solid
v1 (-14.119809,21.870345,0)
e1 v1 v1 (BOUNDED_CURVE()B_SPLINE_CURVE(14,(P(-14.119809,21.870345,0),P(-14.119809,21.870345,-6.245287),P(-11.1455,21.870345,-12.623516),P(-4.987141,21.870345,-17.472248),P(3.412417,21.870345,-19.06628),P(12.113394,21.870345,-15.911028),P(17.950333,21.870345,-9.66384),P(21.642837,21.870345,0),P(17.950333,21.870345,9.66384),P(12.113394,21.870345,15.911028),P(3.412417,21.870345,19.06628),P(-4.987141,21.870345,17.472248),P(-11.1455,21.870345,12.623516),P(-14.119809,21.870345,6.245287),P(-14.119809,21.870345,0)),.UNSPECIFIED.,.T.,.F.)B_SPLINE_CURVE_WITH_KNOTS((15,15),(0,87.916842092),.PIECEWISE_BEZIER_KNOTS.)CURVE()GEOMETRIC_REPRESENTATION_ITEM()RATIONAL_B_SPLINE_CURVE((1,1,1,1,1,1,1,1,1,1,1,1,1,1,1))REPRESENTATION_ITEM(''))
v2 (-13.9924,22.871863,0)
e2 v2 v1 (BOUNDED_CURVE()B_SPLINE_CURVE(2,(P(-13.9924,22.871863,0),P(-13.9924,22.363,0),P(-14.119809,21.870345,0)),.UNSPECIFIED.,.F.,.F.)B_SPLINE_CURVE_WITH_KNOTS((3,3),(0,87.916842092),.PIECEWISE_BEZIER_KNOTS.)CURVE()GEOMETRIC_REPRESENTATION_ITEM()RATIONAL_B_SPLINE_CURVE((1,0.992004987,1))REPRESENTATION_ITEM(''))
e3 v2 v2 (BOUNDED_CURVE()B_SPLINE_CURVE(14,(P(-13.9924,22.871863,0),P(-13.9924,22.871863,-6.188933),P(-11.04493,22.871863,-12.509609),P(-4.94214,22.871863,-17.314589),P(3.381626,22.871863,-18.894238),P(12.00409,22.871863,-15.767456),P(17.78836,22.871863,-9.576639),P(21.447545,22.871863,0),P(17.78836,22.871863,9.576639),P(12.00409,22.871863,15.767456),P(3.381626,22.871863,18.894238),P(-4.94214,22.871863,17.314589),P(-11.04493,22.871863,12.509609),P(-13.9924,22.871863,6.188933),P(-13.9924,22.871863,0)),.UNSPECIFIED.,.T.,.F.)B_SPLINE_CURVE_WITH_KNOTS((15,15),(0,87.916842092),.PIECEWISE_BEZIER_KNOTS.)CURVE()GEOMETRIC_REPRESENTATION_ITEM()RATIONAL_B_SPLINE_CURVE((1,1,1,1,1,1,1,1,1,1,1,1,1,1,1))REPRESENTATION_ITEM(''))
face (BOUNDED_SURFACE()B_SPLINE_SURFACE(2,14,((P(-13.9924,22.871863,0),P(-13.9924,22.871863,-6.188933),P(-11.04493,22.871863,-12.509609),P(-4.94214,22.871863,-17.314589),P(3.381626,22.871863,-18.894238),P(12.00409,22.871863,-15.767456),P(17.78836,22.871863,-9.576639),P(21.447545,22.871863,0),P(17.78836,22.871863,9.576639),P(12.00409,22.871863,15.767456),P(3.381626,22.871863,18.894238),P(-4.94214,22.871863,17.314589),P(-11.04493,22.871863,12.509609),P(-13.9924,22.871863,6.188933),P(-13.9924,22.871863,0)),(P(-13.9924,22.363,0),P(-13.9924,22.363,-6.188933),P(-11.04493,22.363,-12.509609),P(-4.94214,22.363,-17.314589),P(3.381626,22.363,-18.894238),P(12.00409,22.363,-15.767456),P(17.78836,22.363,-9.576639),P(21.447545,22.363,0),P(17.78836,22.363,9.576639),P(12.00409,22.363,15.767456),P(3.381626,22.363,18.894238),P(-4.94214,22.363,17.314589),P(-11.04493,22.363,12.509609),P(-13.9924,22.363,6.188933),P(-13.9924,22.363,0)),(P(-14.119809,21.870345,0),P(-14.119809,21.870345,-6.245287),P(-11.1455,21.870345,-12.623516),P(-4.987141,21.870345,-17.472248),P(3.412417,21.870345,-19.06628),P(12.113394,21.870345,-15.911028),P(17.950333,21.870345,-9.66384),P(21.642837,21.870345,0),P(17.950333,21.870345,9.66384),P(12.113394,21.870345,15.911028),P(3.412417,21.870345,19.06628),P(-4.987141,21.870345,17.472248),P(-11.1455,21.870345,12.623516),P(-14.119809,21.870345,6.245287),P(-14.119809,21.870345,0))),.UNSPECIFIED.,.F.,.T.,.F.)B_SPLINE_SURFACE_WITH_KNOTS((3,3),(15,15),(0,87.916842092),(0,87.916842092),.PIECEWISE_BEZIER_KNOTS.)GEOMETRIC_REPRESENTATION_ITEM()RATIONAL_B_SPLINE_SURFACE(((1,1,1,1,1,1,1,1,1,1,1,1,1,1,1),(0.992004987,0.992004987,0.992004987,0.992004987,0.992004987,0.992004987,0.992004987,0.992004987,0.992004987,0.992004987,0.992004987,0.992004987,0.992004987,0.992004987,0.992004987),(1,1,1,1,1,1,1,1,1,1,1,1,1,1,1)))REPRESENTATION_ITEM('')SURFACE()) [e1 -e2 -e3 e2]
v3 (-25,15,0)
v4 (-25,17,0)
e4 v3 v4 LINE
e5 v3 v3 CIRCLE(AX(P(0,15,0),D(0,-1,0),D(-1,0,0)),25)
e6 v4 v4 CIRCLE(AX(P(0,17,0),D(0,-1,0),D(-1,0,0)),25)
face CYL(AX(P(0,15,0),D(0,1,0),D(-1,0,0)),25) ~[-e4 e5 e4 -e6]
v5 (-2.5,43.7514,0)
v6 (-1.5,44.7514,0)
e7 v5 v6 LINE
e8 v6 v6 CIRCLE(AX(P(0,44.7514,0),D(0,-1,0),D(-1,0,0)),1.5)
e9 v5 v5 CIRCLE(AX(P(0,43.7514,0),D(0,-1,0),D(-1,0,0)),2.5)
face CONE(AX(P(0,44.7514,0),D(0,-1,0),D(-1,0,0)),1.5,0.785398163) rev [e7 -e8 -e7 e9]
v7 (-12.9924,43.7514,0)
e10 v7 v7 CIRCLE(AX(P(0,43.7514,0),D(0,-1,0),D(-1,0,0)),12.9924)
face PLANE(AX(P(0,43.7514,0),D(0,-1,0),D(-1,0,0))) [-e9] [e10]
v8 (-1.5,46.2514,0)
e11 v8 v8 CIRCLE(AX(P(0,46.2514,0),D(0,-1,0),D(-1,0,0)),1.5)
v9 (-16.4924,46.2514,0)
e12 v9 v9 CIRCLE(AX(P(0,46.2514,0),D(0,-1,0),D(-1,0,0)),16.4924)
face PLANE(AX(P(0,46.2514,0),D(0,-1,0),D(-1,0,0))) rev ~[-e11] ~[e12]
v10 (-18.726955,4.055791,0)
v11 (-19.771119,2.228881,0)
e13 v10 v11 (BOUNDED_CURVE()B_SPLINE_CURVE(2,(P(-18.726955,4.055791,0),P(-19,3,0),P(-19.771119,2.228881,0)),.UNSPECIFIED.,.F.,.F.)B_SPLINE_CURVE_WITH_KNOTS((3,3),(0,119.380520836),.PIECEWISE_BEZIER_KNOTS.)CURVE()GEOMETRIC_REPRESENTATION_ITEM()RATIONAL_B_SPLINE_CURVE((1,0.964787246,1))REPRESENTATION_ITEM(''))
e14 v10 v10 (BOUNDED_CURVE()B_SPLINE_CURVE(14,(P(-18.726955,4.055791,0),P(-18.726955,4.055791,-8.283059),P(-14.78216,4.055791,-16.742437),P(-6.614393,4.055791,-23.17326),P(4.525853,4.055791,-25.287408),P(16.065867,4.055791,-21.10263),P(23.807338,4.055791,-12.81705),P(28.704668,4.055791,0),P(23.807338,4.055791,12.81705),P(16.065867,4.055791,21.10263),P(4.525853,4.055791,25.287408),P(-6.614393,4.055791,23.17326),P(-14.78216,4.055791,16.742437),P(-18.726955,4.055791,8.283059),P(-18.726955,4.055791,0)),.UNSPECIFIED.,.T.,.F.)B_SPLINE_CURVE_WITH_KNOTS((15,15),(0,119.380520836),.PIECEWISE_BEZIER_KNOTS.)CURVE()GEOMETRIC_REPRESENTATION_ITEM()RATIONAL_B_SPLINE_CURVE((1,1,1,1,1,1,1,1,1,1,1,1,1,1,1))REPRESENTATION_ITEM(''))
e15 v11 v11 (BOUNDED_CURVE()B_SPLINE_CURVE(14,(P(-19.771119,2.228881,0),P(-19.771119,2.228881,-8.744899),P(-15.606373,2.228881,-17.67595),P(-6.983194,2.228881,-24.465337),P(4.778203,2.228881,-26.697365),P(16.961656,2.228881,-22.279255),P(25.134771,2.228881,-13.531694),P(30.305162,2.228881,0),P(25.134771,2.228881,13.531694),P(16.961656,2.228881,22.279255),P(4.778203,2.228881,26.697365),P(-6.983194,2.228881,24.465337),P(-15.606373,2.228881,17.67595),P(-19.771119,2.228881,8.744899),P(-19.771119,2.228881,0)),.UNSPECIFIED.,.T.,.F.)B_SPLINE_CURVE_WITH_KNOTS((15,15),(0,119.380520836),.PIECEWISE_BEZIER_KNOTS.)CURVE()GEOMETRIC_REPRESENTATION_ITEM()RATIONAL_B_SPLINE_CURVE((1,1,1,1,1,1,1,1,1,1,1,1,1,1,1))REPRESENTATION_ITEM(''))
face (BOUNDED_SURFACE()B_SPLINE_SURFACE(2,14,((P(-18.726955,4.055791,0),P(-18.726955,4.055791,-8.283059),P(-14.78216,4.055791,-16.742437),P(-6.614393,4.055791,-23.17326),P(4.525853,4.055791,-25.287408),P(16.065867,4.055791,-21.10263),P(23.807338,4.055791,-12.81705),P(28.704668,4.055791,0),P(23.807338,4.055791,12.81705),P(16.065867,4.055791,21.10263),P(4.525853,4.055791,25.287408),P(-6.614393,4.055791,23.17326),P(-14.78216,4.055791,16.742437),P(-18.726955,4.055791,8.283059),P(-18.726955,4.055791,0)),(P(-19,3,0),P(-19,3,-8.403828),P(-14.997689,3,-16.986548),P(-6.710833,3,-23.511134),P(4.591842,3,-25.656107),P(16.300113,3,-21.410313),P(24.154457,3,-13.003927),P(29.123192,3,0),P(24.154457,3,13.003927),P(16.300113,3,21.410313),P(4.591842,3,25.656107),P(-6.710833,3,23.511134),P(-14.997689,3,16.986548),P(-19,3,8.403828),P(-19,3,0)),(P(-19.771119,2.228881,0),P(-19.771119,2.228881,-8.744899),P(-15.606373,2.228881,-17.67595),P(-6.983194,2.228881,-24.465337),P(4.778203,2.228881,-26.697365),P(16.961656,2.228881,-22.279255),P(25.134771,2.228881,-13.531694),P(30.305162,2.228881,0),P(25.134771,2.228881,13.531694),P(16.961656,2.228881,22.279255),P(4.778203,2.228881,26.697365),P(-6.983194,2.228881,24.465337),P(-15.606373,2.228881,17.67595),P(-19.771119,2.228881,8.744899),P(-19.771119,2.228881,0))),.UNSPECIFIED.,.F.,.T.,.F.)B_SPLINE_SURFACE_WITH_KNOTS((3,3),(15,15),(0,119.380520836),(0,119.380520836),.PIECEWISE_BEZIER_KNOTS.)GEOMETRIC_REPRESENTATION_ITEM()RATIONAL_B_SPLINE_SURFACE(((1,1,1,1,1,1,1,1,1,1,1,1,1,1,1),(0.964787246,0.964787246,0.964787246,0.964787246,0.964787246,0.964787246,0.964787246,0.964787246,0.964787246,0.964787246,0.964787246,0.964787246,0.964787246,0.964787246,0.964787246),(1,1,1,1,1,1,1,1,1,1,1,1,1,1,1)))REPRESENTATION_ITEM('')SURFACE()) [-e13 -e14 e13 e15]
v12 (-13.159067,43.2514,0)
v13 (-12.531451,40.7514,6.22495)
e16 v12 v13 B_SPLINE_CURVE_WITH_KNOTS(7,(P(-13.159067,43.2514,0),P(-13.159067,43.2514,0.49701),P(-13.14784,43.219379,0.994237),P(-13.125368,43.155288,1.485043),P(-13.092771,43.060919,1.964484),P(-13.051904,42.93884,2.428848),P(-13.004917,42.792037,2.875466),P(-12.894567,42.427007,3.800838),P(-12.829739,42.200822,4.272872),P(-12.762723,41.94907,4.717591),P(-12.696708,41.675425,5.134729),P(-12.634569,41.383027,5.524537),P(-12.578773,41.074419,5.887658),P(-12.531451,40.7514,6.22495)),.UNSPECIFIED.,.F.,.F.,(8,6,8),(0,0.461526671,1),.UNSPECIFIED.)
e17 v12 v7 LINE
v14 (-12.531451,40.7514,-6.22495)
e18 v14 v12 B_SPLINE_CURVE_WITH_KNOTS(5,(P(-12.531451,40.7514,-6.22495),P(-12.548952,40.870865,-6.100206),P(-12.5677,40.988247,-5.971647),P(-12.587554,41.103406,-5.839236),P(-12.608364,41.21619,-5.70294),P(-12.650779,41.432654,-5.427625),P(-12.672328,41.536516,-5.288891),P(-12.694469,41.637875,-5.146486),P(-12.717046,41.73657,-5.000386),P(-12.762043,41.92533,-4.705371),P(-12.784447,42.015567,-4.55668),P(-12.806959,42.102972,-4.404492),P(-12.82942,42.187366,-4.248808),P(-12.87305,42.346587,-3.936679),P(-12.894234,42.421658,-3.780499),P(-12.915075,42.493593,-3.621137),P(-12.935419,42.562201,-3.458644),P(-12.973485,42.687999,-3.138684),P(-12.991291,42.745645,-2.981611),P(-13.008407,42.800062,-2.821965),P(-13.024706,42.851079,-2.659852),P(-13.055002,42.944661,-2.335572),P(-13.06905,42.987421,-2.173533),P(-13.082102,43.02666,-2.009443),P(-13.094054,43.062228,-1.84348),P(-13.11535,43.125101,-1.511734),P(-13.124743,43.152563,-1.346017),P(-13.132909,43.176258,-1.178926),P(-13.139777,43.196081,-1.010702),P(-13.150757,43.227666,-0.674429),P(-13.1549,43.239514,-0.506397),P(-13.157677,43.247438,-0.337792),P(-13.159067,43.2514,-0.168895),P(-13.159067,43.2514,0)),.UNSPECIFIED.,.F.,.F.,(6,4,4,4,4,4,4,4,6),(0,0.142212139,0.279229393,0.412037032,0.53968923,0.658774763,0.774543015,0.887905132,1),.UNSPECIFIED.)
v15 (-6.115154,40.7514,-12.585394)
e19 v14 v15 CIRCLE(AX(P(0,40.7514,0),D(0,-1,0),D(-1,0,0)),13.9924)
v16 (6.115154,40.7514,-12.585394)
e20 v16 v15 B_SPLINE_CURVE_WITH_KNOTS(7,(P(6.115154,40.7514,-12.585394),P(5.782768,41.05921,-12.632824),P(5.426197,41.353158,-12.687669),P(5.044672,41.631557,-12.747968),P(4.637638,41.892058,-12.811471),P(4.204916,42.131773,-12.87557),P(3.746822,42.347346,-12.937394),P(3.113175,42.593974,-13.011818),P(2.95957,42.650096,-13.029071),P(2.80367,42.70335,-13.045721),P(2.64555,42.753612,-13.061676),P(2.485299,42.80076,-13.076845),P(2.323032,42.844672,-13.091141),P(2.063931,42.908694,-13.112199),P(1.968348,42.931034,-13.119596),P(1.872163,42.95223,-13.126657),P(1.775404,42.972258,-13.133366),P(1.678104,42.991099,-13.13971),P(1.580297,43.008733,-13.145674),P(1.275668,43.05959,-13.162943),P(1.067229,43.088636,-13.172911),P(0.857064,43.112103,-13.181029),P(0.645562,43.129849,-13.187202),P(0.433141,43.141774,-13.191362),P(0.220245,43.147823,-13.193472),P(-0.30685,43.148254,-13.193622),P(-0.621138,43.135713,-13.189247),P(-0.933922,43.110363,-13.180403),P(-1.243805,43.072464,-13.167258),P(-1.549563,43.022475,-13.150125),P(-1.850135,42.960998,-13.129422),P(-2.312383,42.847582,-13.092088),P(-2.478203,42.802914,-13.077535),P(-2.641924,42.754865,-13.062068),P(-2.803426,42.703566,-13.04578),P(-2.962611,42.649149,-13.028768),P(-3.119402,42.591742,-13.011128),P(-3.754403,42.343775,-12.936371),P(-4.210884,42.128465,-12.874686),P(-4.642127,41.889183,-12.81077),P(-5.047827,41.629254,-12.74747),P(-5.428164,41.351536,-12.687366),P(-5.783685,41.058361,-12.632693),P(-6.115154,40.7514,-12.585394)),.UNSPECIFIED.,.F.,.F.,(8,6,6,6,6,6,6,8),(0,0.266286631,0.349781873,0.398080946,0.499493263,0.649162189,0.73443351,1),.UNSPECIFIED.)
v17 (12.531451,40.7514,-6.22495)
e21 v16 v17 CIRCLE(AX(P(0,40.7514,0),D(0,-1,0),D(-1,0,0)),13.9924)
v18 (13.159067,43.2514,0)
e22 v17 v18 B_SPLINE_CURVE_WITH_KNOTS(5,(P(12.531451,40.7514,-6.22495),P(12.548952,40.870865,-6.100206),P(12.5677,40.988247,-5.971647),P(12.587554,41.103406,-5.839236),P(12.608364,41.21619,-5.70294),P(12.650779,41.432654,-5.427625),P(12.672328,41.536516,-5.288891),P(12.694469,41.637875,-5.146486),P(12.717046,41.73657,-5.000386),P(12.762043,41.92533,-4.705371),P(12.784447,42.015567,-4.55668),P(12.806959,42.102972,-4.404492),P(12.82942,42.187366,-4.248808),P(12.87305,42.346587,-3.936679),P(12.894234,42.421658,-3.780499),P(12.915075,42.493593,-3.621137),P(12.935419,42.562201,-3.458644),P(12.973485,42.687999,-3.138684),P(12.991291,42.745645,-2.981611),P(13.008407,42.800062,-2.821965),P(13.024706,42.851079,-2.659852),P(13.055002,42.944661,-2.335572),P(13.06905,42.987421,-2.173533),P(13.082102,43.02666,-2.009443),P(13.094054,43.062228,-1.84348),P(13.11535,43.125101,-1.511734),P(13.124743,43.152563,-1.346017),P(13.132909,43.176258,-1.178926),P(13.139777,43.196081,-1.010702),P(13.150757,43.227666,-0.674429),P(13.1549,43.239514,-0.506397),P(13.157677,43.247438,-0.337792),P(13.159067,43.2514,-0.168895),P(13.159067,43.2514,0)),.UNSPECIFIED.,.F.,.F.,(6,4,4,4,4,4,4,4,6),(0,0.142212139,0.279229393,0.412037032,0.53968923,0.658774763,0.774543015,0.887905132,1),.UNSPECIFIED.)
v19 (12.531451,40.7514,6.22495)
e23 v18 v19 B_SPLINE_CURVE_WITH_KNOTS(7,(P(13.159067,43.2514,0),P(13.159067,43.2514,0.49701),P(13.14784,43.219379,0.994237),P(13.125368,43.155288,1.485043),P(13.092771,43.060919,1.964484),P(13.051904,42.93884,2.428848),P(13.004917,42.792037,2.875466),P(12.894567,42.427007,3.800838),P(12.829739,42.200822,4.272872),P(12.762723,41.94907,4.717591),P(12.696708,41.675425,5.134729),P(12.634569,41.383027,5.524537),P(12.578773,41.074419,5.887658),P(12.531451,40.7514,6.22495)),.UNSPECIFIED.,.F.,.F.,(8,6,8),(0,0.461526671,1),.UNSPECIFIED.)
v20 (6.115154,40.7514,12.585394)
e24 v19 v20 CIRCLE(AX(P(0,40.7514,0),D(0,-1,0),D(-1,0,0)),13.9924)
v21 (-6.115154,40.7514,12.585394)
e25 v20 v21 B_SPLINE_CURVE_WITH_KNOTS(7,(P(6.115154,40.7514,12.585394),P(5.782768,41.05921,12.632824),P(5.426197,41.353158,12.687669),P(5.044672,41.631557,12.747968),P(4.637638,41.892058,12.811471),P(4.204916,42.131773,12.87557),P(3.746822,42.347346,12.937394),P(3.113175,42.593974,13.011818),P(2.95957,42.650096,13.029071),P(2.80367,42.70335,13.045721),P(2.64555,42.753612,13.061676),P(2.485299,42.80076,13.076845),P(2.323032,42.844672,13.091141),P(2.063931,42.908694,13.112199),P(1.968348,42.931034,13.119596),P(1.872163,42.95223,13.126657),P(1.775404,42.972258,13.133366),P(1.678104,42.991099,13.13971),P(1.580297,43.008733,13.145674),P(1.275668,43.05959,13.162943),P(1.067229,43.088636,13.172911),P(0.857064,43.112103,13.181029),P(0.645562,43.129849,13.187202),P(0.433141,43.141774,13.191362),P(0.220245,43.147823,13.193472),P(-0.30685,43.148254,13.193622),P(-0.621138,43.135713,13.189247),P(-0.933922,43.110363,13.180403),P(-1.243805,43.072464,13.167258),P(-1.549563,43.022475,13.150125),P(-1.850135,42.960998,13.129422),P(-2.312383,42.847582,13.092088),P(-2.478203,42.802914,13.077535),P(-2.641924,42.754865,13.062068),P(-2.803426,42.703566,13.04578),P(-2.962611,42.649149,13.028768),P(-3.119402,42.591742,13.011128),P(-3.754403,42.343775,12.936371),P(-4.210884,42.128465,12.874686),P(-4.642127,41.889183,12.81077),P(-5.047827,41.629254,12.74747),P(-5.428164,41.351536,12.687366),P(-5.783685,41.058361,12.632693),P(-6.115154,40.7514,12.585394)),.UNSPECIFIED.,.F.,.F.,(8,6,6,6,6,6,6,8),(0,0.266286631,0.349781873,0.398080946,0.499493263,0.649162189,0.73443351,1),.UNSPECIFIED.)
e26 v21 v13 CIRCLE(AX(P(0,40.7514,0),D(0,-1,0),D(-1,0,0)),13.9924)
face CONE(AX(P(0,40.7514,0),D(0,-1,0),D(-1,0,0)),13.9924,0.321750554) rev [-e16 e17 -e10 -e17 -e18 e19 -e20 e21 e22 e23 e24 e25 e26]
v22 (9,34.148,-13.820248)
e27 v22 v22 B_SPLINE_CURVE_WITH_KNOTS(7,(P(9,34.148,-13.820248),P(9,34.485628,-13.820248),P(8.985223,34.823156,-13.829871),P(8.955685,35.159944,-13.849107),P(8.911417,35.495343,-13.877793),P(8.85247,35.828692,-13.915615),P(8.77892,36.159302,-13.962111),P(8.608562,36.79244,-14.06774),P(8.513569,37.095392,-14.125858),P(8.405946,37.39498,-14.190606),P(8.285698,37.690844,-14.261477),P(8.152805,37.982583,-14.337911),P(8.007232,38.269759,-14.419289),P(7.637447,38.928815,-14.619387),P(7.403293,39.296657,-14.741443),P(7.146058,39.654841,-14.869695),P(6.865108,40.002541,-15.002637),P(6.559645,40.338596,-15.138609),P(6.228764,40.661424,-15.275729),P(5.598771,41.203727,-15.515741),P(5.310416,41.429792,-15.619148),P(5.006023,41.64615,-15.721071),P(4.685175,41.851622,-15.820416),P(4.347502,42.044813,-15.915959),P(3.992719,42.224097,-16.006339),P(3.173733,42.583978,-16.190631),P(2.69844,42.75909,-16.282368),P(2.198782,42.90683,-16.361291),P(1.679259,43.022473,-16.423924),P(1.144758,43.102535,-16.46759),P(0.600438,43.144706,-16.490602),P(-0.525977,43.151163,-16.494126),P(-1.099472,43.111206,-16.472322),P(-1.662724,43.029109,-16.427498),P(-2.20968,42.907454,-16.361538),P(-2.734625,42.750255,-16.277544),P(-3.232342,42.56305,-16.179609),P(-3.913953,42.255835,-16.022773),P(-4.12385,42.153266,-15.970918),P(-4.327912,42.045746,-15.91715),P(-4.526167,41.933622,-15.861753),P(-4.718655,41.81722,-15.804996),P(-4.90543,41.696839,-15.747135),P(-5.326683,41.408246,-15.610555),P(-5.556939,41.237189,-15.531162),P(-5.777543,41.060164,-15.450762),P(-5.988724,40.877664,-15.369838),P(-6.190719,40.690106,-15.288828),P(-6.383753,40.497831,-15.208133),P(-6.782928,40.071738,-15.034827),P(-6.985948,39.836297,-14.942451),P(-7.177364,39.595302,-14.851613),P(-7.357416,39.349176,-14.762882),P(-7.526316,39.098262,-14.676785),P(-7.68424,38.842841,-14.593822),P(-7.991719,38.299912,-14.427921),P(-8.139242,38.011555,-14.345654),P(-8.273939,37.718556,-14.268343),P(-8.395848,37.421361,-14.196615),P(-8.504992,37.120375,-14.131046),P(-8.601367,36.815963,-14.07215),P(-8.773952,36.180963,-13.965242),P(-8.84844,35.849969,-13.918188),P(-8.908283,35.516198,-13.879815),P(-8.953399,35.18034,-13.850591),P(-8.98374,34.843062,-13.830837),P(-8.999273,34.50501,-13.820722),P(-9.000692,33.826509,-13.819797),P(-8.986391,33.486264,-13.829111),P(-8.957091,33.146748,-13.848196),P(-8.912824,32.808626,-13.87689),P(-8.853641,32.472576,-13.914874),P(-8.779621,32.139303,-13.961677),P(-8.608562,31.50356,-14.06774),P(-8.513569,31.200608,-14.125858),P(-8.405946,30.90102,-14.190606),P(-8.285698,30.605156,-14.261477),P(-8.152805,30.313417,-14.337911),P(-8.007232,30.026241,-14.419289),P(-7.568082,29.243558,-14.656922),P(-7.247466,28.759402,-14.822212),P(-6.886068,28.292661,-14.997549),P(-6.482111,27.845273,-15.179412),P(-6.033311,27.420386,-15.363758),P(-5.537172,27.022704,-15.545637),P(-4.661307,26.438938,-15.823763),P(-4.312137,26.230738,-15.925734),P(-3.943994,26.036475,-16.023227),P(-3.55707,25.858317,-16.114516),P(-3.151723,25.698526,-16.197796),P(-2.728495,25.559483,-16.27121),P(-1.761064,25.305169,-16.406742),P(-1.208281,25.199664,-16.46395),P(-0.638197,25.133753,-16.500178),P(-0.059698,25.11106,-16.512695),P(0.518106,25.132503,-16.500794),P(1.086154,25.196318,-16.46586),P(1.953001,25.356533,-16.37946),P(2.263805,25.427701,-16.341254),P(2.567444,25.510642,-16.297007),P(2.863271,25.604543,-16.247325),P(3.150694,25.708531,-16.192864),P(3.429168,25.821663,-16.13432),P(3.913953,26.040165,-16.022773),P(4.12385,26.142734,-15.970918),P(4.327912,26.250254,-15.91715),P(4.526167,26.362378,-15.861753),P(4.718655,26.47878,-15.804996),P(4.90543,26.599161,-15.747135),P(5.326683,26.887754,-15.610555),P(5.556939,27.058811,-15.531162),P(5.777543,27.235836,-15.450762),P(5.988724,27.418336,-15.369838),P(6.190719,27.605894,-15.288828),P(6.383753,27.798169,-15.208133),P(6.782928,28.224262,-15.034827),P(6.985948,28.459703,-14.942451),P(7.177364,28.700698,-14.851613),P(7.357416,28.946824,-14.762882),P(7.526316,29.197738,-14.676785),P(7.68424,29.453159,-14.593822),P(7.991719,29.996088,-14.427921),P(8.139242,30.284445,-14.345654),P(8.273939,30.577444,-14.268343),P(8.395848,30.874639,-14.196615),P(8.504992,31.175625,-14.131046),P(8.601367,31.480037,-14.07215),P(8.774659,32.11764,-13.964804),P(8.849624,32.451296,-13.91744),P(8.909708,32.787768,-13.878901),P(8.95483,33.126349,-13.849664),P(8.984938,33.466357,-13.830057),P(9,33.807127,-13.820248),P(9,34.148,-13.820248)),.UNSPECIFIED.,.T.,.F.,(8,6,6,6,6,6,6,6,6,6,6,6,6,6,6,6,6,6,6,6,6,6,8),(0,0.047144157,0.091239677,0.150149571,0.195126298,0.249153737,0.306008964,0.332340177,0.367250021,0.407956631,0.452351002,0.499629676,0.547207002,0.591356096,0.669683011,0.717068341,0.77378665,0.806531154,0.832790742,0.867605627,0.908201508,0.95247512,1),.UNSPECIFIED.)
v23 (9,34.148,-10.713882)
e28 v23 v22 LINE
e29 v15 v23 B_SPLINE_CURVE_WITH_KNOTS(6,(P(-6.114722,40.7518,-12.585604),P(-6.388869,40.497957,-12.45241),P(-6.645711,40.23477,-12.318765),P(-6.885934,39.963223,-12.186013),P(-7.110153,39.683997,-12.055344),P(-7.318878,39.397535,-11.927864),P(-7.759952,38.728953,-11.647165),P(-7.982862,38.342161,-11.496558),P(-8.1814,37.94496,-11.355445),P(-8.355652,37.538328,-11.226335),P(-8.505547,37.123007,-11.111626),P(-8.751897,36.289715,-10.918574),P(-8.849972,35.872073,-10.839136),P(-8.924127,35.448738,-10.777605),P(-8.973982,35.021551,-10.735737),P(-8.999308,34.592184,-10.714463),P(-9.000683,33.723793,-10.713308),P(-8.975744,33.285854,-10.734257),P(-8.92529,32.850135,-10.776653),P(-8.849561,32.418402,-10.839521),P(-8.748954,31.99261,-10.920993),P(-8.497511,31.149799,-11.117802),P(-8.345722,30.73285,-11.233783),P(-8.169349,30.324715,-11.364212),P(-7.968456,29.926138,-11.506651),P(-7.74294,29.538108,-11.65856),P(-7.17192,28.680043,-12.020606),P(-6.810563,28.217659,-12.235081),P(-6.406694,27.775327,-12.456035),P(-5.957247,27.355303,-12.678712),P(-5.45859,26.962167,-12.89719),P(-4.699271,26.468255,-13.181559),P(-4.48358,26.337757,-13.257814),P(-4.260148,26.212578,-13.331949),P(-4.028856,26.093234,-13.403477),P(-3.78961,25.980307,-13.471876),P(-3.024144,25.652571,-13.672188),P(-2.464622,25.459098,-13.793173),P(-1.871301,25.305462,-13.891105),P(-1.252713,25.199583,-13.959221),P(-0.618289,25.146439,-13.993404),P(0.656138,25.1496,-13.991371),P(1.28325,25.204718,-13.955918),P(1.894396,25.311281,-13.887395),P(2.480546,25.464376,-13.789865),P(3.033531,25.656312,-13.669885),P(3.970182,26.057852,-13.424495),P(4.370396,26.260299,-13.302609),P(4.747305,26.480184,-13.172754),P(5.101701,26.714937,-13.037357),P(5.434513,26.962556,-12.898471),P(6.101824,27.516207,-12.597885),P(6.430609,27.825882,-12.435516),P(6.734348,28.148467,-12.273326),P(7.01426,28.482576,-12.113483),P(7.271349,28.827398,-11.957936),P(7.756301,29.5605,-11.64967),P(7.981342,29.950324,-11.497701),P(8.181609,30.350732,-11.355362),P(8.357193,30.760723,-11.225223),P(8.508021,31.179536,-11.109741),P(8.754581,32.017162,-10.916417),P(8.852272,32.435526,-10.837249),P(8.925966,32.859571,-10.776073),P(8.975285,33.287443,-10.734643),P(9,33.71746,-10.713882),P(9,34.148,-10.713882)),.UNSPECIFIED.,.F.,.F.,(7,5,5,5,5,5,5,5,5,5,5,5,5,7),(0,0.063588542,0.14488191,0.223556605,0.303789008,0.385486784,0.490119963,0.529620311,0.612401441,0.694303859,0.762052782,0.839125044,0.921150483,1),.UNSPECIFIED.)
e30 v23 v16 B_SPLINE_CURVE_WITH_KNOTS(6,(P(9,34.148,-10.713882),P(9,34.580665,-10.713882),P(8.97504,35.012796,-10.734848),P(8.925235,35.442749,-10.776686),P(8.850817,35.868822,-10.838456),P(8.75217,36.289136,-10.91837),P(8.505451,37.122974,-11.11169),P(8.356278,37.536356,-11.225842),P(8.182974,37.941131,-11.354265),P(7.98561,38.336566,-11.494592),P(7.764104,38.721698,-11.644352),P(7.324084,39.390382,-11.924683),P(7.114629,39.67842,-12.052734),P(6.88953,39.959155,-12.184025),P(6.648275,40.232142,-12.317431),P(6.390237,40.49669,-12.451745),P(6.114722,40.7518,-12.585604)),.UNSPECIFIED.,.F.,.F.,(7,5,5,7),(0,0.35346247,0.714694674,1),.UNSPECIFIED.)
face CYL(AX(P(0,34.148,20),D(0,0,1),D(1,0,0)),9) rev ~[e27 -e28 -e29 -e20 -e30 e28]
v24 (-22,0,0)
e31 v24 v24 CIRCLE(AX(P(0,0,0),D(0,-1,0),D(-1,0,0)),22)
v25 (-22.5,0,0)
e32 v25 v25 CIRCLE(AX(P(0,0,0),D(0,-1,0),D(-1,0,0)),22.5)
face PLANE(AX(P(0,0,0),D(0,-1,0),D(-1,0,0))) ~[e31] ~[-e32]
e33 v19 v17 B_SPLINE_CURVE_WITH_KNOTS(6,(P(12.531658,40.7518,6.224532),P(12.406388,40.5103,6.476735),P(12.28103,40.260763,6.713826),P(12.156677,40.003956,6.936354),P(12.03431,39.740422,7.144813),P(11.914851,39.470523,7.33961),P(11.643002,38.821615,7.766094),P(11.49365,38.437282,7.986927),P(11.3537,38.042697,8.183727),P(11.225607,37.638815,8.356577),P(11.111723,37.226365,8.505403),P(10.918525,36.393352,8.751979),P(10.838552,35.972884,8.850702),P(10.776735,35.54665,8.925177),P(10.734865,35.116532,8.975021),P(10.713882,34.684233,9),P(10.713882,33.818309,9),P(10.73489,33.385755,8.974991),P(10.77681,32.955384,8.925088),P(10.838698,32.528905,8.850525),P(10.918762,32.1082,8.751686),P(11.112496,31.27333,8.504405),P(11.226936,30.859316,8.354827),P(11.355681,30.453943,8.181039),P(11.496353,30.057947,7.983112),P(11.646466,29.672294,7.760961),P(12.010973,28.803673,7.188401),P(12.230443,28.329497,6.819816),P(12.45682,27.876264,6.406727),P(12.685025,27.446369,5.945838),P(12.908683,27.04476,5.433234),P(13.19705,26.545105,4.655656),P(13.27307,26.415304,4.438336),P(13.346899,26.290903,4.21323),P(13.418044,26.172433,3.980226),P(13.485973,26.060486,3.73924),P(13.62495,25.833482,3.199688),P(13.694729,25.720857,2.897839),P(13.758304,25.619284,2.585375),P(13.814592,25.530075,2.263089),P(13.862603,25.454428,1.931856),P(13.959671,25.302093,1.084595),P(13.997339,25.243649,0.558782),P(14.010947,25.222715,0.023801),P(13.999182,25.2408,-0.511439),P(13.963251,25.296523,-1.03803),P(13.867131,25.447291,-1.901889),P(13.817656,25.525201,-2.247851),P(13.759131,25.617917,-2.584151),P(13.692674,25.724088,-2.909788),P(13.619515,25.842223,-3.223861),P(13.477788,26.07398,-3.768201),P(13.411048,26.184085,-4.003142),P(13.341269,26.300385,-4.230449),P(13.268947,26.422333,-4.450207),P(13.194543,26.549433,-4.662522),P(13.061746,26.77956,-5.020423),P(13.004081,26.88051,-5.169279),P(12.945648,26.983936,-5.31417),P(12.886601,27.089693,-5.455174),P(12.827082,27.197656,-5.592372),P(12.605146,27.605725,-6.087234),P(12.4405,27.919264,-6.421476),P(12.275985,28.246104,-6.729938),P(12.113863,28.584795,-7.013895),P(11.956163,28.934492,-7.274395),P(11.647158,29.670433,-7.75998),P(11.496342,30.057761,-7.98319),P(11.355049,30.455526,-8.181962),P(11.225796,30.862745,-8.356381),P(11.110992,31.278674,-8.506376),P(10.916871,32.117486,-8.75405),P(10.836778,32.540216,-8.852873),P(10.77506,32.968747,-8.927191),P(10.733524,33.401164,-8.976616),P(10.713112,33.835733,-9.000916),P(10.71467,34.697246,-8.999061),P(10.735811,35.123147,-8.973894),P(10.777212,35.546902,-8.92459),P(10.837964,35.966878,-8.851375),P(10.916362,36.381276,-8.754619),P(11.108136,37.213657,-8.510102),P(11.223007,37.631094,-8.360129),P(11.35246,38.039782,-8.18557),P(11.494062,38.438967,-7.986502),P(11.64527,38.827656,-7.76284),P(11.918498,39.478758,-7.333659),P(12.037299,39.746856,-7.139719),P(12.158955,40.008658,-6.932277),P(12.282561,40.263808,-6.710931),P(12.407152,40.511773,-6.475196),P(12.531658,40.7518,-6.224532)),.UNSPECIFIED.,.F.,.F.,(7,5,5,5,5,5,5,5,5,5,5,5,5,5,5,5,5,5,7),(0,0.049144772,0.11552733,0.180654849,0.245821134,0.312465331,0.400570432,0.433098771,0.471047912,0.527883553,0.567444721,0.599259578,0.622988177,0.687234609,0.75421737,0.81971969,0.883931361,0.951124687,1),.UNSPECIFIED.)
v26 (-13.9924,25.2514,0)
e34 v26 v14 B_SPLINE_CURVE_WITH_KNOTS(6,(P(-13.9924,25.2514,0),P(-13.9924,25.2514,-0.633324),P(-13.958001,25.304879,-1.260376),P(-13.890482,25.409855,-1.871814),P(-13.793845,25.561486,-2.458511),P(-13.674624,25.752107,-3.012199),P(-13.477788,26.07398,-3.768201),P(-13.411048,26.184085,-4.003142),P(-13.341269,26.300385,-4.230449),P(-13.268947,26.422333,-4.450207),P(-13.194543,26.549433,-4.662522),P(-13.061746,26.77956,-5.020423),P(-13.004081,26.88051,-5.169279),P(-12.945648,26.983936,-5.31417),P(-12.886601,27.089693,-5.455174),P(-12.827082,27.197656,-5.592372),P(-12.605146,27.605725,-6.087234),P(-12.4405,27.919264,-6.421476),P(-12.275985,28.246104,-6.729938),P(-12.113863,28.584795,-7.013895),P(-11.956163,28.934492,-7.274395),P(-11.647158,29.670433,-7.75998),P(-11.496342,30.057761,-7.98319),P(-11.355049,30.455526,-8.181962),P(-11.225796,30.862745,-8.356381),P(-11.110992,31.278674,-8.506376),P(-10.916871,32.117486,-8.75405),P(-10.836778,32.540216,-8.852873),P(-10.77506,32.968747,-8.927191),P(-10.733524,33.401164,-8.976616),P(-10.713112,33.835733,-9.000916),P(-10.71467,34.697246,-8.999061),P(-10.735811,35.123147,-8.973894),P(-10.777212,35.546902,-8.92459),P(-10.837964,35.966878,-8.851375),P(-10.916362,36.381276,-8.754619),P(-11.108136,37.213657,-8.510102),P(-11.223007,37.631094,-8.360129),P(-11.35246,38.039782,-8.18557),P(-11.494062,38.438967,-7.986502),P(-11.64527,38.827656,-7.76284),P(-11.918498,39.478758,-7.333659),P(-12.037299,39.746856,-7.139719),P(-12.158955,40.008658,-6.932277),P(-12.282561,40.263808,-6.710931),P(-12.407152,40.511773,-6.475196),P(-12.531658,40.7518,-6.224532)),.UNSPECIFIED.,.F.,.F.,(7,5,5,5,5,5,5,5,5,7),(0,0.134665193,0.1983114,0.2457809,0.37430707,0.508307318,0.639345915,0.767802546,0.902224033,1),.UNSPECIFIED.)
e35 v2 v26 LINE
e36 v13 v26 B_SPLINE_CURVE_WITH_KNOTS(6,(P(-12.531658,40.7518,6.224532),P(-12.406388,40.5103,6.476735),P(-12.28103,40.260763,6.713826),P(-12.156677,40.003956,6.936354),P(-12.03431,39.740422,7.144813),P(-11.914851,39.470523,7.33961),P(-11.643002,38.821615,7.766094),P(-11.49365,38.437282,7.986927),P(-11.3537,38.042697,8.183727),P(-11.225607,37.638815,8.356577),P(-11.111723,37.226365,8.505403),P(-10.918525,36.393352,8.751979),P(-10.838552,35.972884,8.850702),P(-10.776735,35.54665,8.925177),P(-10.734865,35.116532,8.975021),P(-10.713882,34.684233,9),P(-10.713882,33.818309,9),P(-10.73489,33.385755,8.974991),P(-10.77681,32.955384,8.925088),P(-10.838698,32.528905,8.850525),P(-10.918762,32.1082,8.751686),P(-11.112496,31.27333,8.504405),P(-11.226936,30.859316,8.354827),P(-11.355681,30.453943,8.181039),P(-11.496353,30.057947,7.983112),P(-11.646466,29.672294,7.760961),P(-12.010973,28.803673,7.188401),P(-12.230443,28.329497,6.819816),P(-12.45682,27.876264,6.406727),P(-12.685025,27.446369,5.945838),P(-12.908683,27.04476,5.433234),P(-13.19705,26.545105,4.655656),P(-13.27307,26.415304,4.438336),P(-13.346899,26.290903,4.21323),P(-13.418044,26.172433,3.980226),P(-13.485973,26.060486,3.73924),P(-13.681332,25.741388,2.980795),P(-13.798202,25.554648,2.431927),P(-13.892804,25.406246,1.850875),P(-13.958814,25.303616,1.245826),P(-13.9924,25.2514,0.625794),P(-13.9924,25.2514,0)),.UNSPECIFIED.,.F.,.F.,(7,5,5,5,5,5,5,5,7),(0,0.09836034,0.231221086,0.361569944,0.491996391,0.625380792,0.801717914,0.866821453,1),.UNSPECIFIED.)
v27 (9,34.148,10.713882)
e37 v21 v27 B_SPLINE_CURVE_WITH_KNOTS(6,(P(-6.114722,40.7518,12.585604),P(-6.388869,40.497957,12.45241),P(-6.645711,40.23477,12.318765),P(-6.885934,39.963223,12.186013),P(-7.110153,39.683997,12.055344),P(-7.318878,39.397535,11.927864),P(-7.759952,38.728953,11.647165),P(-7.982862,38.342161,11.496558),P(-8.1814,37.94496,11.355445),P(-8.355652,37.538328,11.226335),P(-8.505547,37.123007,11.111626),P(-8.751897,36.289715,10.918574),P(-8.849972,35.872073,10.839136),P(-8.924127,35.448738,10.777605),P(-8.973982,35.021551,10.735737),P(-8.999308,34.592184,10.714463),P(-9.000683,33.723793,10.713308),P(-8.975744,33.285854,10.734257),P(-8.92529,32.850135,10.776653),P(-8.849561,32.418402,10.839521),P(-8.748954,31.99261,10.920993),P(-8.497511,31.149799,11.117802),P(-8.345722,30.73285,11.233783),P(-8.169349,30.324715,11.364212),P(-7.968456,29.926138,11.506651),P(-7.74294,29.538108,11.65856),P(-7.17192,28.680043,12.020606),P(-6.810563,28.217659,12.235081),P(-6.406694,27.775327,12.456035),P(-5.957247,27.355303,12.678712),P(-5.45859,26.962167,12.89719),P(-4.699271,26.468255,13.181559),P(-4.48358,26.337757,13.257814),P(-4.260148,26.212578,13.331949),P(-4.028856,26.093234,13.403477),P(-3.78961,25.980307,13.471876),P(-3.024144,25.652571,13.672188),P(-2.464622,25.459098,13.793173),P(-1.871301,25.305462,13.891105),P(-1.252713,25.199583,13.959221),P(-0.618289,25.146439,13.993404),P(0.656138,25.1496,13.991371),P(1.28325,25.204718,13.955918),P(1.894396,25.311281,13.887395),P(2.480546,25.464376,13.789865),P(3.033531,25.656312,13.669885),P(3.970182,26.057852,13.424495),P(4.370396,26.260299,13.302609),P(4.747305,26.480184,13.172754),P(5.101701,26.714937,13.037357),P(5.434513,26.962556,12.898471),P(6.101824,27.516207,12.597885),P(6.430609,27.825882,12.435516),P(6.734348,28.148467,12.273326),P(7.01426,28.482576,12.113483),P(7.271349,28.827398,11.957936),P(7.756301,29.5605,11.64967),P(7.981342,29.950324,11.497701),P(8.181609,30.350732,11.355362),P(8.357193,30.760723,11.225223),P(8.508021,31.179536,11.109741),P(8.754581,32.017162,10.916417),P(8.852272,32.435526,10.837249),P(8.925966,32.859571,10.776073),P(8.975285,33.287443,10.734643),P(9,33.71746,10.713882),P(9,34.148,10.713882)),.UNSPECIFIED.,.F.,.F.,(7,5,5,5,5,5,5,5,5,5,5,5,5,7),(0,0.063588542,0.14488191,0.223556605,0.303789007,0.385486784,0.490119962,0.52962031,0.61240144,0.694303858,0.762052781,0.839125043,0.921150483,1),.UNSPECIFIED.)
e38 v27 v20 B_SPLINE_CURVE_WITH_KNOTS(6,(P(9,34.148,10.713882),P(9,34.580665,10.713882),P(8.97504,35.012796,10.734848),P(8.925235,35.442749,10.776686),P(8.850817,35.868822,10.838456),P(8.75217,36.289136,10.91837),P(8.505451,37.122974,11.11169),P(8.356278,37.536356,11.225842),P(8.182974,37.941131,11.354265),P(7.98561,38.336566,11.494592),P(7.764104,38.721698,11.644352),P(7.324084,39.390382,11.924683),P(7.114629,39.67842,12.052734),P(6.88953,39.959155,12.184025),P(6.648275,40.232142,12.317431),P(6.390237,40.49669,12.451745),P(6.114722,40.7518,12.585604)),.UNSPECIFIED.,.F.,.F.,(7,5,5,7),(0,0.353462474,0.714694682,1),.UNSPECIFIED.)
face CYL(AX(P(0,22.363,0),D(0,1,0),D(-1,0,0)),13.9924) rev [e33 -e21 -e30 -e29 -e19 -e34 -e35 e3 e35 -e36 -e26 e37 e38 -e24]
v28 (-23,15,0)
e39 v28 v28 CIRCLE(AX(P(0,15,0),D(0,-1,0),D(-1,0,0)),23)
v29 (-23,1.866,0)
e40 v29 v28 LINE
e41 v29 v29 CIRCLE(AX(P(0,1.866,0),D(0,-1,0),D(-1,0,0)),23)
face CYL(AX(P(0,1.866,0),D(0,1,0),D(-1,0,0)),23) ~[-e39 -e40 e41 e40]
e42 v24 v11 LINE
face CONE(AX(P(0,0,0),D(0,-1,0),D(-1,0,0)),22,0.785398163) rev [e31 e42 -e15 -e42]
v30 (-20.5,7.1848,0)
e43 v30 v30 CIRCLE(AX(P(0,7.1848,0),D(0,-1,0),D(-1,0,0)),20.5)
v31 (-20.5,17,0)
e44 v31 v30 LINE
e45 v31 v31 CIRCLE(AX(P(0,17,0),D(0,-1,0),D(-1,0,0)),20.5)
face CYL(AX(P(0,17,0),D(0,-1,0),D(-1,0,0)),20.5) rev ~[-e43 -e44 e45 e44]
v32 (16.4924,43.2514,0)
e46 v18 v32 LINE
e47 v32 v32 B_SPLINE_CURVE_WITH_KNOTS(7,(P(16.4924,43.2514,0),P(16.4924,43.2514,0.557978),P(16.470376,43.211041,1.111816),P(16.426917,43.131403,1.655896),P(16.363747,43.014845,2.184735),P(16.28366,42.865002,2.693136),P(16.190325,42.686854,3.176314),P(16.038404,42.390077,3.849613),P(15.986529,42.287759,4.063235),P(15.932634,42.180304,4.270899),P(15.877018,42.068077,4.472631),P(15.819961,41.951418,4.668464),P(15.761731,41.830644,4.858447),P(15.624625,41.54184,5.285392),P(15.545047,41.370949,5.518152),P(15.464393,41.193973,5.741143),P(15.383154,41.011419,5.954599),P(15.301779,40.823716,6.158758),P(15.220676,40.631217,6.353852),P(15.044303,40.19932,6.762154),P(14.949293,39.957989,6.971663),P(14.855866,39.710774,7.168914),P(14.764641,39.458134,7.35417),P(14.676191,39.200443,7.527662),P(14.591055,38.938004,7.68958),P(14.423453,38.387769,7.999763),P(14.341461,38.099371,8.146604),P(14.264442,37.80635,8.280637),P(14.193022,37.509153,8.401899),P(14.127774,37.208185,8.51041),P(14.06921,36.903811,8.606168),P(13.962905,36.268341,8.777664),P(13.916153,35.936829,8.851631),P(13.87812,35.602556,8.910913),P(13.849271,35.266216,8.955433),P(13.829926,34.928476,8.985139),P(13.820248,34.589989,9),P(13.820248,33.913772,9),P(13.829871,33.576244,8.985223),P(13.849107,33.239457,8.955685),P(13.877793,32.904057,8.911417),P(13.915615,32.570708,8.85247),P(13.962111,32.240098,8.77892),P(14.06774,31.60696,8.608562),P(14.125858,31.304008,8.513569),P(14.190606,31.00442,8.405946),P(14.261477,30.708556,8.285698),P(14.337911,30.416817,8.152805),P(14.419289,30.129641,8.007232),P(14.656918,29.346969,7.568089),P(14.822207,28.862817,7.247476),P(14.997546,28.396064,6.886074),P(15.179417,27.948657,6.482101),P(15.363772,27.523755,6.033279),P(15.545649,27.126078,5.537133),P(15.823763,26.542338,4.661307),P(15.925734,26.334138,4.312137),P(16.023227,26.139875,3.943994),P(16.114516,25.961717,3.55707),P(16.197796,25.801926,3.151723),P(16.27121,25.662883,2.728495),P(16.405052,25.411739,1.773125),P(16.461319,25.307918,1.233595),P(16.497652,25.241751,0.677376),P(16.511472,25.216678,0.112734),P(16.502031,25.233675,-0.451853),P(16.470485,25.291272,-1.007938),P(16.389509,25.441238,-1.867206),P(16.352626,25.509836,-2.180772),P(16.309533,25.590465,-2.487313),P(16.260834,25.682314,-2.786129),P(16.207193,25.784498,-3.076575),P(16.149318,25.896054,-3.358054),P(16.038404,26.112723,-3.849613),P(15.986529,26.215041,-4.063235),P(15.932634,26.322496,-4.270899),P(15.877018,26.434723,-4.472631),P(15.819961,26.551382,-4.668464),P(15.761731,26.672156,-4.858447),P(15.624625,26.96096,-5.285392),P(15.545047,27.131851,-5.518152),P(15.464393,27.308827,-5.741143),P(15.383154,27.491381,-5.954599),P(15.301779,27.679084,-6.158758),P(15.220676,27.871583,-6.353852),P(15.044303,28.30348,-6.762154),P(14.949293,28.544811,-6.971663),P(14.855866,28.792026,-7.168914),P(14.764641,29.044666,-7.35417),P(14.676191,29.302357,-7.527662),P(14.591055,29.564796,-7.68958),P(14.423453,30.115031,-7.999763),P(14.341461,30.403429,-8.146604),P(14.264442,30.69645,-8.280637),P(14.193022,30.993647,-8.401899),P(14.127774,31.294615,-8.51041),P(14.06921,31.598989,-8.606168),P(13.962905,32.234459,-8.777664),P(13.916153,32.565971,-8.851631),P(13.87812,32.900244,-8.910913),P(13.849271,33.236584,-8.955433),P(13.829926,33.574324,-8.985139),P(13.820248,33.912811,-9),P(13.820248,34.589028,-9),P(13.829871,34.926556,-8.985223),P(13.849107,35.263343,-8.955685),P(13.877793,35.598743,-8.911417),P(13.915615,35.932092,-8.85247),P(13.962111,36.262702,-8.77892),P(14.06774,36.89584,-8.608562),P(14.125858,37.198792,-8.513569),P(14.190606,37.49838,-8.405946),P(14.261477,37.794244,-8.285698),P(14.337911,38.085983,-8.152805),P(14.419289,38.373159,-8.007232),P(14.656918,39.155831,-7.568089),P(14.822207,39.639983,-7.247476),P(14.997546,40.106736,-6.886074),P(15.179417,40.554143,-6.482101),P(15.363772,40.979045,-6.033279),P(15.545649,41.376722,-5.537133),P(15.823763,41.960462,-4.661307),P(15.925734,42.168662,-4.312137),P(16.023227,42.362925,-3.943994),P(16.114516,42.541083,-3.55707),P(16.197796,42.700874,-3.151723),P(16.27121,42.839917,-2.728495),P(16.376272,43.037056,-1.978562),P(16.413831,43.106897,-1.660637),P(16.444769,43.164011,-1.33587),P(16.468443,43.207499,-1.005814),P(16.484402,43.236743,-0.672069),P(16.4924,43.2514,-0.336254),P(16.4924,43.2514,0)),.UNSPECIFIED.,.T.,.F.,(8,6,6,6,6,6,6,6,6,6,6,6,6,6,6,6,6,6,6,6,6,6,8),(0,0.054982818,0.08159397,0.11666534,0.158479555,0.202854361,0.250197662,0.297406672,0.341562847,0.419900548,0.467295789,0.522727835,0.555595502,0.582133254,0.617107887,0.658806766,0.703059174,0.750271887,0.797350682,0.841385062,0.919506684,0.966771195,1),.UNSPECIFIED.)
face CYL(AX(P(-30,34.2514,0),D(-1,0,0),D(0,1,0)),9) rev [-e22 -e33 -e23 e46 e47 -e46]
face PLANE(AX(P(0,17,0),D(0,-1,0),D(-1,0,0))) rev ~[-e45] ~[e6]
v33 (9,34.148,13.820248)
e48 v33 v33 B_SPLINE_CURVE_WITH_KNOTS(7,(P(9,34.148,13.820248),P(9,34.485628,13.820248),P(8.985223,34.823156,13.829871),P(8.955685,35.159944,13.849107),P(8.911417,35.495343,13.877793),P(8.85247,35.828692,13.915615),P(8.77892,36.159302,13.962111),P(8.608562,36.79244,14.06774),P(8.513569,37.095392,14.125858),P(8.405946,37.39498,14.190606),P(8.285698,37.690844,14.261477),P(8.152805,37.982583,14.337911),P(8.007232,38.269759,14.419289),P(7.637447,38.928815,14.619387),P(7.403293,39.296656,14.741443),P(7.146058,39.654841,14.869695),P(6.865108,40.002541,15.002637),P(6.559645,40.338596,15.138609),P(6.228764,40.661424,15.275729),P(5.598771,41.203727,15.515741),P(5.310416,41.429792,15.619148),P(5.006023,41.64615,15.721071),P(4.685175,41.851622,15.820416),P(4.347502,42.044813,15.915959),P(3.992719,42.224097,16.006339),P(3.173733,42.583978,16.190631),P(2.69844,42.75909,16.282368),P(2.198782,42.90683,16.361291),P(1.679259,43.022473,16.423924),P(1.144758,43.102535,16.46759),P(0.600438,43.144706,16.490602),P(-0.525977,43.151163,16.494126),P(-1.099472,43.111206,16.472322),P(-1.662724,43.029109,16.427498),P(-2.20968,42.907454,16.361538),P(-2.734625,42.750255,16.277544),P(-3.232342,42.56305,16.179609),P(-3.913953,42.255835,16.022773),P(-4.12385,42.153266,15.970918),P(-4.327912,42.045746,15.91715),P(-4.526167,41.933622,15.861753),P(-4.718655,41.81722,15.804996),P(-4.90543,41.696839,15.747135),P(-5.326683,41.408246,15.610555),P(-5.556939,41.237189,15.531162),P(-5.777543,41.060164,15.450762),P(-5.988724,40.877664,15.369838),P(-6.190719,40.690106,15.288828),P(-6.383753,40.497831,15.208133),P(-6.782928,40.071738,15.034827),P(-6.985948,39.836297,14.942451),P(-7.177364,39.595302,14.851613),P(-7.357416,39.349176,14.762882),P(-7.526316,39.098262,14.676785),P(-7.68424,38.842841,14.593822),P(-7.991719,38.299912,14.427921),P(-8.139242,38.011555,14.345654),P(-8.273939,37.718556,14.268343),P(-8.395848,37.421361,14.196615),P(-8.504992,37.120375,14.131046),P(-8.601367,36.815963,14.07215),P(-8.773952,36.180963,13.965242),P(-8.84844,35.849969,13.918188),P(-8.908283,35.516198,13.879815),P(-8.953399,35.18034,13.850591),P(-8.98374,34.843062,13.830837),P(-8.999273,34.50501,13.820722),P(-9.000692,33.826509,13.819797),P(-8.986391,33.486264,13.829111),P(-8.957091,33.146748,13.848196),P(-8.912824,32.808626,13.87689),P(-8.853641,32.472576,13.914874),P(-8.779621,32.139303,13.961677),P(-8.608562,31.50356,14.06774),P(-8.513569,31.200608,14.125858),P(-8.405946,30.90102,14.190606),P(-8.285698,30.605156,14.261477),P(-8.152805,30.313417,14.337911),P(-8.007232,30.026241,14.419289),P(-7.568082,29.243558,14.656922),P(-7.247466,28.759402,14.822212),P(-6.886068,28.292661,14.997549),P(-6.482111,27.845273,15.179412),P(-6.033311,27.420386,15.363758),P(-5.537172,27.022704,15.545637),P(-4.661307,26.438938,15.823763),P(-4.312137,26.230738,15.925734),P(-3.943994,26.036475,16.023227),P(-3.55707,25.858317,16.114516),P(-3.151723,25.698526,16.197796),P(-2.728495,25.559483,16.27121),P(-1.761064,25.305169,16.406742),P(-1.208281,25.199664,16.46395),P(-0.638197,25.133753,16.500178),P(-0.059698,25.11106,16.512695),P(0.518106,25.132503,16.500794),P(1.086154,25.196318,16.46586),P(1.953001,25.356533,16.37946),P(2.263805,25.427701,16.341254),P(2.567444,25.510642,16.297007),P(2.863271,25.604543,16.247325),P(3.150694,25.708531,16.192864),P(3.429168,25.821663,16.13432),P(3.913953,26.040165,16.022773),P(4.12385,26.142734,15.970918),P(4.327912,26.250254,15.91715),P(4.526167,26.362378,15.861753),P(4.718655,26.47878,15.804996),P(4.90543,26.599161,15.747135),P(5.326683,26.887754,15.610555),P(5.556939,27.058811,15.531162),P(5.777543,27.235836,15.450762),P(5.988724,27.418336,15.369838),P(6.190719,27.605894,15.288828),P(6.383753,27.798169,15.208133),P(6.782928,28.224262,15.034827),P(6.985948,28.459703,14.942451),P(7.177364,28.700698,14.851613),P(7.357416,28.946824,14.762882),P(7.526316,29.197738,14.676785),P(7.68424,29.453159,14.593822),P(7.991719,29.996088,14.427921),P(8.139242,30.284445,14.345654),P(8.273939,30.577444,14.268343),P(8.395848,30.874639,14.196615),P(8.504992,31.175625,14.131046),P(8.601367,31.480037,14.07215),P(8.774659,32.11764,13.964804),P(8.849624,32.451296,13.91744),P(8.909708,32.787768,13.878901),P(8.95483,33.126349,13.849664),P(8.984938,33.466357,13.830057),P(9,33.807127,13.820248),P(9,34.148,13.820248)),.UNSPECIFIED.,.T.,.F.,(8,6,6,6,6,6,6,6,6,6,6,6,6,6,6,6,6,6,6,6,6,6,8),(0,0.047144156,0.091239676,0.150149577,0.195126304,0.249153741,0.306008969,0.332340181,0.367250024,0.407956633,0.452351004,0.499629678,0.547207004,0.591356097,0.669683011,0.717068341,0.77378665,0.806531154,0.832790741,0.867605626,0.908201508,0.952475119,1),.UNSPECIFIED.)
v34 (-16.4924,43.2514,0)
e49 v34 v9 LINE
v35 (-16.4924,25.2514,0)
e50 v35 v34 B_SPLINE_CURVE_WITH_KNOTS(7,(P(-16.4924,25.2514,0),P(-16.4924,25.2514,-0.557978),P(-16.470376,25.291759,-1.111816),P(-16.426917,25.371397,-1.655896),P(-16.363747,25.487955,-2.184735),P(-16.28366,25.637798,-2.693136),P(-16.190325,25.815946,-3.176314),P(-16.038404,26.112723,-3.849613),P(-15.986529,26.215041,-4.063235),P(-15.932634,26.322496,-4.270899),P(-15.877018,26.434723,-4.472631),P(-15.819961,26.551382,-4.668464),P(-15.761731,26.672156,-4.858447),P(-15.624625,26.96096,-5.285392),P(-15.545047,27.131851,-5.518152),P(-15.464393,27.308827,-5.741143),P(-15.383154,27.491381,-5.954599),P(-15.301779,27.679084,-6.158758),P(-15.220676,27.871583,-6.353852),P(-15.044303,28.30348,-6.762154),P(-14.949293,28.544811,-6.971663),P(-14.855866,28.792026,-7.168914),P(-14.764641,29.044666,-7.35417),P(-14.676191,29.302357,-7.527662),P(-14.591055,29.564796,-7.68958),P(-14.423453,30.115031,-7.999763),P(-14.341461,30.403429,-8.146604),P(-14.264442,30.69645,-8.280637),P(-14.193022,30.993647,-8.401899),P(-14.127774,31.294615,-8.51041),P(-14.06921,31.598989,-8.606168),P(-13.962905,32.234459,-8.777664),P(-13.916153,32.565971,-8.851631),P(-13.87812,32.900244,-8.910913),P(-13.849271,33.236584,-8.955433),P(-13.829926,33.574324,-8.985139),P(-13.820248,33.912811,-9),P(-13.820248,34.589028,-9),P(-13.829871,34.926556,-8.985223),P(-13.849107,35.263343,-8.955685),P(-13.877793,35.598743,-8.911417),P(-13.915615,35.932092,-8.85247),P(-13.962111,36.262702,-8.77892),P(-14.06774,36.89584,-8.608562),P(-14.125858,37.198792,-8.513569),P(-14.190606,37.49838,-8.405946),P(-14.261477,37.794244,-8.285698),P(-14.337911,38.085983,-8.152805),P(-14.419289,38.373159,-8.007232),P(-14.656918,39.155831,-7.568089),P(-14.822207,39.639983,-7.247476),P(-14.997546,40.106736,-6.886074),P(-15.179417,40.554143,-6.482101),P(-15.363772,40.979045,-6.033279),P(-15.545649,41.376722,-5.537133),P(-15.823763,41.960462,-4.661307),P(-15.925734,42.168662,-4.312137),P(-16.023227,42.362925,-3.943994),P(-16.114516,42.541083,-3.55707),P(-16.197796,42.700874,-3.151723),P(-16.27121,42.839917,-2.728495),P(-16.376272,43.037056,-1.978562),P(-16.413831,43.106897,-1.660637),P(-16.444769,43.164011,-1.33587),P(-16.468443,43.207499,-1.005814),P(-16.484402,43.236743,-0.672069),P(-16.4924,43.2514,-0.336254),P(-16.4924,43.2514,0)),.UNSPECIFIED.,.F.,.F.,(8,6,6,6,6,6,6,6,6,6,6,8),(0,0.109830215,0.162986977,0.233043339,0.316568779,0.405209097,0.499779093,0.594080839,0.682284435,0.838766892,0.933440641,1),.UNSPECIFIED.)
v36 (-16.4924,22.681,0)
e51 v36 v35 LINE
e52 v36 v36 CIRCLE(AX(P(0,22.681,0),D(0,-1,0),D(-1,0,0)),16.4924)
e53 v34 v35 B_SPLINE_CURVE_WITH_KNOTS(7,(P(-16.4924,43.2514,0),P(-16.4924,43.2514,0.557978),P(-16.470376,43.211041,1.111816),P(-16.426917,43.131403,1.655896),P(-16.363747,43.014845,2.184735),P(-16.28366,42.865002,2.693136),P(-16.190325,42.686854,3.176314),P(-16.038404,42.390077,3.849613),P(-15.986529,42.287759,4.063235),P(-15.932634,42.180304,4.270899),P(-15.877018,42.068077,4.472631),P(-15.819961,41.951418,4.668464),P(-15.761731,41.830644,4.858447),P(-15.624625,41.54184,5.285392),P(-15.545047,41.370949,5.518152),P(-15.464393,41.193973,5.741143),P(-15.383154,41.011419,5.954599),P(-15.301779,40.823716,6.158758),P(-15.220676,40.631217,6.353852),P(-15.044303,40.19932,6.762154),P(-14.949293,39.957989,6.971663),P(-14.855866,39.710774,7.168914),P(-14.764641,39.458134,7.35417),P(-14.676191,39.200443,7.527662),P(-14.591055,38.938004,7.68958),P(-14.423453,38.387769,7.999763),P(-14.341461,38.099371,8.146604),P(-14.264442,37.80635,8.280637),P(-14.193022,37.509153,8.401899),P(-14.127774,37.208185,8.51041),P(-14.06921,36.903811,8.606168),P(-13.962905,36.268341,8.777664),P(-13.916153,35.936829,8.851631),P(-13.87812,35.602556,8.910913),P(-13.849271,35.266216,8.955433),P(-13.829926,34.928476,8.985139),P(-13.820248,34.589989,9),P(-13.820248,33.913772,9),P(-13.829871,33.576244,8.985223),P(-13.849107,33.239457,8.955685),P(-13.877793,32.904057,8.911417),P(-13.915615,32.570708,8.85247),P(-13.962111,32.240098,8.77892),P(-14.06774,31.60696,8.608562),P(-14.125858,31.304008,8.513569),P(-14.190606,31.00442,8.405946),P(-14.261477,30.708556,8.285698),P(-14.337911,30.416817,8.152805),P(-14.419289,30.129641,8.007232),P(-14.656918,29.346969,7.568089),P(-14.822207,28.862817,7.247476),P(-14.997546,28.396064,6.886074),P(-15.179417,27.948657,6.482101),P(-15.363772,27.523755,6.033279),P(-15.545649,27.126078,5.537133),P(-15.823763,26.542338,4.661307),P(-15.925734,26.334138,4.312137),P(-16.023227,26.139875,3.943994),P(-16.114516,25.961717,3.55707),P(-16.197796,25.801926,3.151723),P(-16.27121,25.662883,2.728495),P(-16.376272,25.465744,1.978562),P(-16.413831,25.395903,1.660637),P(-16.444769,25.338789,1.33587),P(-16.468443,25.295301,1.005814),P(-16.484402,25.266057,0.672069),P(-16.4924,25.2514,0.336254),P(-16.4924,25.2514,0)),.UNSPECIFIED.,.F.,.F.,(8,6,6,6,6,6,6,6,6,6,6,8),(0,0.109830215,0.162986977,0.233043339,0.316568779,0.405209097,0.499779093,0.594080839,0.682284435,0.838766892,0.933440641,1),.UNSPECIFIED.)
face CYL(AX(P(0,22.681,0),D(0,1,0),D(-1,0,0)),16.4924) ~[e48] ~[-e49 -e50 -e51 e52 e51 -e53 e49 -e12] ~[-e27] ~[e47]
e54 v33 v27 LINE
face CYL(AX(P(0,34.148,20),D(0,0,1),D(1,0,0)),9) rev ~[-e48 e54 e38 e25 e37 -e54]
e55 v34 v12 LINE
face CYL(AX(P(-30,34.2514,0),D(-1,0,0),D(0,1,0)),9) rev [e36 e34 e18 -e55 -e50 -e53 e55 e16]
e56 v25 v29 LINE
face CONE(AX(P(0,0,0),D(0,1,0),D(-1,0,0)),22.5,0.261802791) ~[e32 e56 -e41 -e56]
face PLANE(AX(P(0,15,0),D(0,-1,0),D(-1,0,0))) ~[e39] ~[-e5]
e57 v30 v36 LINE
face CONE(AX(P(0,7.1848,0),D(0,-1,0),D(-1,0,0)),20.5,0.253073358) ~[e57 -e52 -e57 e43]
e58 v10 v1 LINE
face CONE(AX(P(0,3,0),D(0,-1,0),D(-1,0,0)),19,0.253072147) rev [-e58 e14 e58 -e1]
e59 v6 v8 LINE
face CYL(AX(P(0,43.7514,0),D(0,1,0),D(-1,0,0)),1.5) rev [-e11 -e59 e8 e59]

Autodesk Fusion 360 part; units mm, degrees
sketch "Skizze1" plane through (0, 0, 0) normal (0, 0, 1) x (1, 0, 0)
  line L0 (-23, 1.866) -> (-23, 15)
  line L1 (-23, 15) -> (-25, 15)
  line L2 (-25, 15) -> (-25, 17)
  line L3 (0, 59.1339) -> (0, 0) construction
  line L4 (-22, 0) -> (-22.5, 0)
  line L5 (-22, 0) -> (-19, 3)
  line L6 (-19, 3) -> (-13.9924, 22.363)
  line L7 (-13.9924, 22.363) -> (-13.9924, 43.7514)
  line L8 (-13.9924, 43.7514) -> (-1.5, 43.7514)
  line L9 (-25, 17) -> (-20.5, 17)
  line L10 (-20.5, 17) -> (-20.5, 7.1848)
  line L11 (-20.5, 7.1848) -> (-16.4924, 22.681)
  line L12 (-16.4924, 22.681) -> (-16.4924, 46.2514)
  line L13 (-16.4924, 46.2514) -> (-1.5, 46.2514)
  line L14 (-1.5, 43.7514) -> (-1.5, 46.2514)
  line L15 (0, 0) -> (-22.5, 0) construction
  line L16 (-22.5, 0) -> (-23, 1.866)
  dimension "d1" = 23
  dimension "d3" = 2
  dimension "d4" = 2
  dimension "d10" = 45
  dimension "d14" = 14.5
  dimension "d15" = 20
  dimension "d16" = 19
  dimension "d17" = 2.5
  dimension "d19" = 2.5
  dimension "d20" = 2.5
  dimension "d21" = 2.5
  dimension "d22" = 1.5
  dimension "d23" = 15
revolve "Drehen1" add sketch "Skizze1" angle 360 about axis through (0, 59.1339, 0) along (0, -1, 0)
fillet "Abrundung1" radius 4 1 edges at (-17.7142, 3, 6.8707)
chamfer "Fase1" distance 1 angle 45 1 edges at (-1.3985, 43.7514, 0.5424)
fillet "Abrundung2" radius 4 1 edges at (-13.0455, 22.363, 5.0599)
chamfer "Fase2" distance 3 distance2 1 1 edges at (-13.0455, 43.7514, 5.0599) measured on face at (-13.019, 36.7915, 5.1277)
sketch "Skizze2" plane through (0, 0, 0) normal (0, 0, 1) x (1, 0, 0)
  line L0 (0, 57.0662) -> (0, -9.8119) construction
  circle A0 centre (0, 34.148) radius 9
  line L1 (16.4924, 46.2514) -> (-16.4924, 46.2514)
  line L2 (18.4666, 43.148) -> (-20, 43.148) construction
  dimension "d33" = 18
extrude "Extrusion1" cut sketch "Skizze2" against normal blind 55 from surface at 20
sketch "Skizze3" plane through (0, 0, 0) normal (1, 0, 0) x (0, 1, 0)
  line L0 (52.8501, 0) -> (-11.2944, 0) construction
  line L1 (46.2514, -16.4924) -> (46.2514, 16.4924)
  line L2 (46.2514, -1.5) -> (46.2514, 1.5)
  circle A0 centre (34.2514, 0) radius 9
  line L3 (43.2514, 22) -> (43.2514, -22.5181) construction
  dimension "d37" = 18
  dimension "d38" = 3
extrude "Extrusion2" cut sketch "Skizze3" along normal blind 65 from surface at -30
equation "d1 = ( 46 / 2 ) * 1 mm"
equation "d16 = ( 38 / 2 ) * 1 mm"
